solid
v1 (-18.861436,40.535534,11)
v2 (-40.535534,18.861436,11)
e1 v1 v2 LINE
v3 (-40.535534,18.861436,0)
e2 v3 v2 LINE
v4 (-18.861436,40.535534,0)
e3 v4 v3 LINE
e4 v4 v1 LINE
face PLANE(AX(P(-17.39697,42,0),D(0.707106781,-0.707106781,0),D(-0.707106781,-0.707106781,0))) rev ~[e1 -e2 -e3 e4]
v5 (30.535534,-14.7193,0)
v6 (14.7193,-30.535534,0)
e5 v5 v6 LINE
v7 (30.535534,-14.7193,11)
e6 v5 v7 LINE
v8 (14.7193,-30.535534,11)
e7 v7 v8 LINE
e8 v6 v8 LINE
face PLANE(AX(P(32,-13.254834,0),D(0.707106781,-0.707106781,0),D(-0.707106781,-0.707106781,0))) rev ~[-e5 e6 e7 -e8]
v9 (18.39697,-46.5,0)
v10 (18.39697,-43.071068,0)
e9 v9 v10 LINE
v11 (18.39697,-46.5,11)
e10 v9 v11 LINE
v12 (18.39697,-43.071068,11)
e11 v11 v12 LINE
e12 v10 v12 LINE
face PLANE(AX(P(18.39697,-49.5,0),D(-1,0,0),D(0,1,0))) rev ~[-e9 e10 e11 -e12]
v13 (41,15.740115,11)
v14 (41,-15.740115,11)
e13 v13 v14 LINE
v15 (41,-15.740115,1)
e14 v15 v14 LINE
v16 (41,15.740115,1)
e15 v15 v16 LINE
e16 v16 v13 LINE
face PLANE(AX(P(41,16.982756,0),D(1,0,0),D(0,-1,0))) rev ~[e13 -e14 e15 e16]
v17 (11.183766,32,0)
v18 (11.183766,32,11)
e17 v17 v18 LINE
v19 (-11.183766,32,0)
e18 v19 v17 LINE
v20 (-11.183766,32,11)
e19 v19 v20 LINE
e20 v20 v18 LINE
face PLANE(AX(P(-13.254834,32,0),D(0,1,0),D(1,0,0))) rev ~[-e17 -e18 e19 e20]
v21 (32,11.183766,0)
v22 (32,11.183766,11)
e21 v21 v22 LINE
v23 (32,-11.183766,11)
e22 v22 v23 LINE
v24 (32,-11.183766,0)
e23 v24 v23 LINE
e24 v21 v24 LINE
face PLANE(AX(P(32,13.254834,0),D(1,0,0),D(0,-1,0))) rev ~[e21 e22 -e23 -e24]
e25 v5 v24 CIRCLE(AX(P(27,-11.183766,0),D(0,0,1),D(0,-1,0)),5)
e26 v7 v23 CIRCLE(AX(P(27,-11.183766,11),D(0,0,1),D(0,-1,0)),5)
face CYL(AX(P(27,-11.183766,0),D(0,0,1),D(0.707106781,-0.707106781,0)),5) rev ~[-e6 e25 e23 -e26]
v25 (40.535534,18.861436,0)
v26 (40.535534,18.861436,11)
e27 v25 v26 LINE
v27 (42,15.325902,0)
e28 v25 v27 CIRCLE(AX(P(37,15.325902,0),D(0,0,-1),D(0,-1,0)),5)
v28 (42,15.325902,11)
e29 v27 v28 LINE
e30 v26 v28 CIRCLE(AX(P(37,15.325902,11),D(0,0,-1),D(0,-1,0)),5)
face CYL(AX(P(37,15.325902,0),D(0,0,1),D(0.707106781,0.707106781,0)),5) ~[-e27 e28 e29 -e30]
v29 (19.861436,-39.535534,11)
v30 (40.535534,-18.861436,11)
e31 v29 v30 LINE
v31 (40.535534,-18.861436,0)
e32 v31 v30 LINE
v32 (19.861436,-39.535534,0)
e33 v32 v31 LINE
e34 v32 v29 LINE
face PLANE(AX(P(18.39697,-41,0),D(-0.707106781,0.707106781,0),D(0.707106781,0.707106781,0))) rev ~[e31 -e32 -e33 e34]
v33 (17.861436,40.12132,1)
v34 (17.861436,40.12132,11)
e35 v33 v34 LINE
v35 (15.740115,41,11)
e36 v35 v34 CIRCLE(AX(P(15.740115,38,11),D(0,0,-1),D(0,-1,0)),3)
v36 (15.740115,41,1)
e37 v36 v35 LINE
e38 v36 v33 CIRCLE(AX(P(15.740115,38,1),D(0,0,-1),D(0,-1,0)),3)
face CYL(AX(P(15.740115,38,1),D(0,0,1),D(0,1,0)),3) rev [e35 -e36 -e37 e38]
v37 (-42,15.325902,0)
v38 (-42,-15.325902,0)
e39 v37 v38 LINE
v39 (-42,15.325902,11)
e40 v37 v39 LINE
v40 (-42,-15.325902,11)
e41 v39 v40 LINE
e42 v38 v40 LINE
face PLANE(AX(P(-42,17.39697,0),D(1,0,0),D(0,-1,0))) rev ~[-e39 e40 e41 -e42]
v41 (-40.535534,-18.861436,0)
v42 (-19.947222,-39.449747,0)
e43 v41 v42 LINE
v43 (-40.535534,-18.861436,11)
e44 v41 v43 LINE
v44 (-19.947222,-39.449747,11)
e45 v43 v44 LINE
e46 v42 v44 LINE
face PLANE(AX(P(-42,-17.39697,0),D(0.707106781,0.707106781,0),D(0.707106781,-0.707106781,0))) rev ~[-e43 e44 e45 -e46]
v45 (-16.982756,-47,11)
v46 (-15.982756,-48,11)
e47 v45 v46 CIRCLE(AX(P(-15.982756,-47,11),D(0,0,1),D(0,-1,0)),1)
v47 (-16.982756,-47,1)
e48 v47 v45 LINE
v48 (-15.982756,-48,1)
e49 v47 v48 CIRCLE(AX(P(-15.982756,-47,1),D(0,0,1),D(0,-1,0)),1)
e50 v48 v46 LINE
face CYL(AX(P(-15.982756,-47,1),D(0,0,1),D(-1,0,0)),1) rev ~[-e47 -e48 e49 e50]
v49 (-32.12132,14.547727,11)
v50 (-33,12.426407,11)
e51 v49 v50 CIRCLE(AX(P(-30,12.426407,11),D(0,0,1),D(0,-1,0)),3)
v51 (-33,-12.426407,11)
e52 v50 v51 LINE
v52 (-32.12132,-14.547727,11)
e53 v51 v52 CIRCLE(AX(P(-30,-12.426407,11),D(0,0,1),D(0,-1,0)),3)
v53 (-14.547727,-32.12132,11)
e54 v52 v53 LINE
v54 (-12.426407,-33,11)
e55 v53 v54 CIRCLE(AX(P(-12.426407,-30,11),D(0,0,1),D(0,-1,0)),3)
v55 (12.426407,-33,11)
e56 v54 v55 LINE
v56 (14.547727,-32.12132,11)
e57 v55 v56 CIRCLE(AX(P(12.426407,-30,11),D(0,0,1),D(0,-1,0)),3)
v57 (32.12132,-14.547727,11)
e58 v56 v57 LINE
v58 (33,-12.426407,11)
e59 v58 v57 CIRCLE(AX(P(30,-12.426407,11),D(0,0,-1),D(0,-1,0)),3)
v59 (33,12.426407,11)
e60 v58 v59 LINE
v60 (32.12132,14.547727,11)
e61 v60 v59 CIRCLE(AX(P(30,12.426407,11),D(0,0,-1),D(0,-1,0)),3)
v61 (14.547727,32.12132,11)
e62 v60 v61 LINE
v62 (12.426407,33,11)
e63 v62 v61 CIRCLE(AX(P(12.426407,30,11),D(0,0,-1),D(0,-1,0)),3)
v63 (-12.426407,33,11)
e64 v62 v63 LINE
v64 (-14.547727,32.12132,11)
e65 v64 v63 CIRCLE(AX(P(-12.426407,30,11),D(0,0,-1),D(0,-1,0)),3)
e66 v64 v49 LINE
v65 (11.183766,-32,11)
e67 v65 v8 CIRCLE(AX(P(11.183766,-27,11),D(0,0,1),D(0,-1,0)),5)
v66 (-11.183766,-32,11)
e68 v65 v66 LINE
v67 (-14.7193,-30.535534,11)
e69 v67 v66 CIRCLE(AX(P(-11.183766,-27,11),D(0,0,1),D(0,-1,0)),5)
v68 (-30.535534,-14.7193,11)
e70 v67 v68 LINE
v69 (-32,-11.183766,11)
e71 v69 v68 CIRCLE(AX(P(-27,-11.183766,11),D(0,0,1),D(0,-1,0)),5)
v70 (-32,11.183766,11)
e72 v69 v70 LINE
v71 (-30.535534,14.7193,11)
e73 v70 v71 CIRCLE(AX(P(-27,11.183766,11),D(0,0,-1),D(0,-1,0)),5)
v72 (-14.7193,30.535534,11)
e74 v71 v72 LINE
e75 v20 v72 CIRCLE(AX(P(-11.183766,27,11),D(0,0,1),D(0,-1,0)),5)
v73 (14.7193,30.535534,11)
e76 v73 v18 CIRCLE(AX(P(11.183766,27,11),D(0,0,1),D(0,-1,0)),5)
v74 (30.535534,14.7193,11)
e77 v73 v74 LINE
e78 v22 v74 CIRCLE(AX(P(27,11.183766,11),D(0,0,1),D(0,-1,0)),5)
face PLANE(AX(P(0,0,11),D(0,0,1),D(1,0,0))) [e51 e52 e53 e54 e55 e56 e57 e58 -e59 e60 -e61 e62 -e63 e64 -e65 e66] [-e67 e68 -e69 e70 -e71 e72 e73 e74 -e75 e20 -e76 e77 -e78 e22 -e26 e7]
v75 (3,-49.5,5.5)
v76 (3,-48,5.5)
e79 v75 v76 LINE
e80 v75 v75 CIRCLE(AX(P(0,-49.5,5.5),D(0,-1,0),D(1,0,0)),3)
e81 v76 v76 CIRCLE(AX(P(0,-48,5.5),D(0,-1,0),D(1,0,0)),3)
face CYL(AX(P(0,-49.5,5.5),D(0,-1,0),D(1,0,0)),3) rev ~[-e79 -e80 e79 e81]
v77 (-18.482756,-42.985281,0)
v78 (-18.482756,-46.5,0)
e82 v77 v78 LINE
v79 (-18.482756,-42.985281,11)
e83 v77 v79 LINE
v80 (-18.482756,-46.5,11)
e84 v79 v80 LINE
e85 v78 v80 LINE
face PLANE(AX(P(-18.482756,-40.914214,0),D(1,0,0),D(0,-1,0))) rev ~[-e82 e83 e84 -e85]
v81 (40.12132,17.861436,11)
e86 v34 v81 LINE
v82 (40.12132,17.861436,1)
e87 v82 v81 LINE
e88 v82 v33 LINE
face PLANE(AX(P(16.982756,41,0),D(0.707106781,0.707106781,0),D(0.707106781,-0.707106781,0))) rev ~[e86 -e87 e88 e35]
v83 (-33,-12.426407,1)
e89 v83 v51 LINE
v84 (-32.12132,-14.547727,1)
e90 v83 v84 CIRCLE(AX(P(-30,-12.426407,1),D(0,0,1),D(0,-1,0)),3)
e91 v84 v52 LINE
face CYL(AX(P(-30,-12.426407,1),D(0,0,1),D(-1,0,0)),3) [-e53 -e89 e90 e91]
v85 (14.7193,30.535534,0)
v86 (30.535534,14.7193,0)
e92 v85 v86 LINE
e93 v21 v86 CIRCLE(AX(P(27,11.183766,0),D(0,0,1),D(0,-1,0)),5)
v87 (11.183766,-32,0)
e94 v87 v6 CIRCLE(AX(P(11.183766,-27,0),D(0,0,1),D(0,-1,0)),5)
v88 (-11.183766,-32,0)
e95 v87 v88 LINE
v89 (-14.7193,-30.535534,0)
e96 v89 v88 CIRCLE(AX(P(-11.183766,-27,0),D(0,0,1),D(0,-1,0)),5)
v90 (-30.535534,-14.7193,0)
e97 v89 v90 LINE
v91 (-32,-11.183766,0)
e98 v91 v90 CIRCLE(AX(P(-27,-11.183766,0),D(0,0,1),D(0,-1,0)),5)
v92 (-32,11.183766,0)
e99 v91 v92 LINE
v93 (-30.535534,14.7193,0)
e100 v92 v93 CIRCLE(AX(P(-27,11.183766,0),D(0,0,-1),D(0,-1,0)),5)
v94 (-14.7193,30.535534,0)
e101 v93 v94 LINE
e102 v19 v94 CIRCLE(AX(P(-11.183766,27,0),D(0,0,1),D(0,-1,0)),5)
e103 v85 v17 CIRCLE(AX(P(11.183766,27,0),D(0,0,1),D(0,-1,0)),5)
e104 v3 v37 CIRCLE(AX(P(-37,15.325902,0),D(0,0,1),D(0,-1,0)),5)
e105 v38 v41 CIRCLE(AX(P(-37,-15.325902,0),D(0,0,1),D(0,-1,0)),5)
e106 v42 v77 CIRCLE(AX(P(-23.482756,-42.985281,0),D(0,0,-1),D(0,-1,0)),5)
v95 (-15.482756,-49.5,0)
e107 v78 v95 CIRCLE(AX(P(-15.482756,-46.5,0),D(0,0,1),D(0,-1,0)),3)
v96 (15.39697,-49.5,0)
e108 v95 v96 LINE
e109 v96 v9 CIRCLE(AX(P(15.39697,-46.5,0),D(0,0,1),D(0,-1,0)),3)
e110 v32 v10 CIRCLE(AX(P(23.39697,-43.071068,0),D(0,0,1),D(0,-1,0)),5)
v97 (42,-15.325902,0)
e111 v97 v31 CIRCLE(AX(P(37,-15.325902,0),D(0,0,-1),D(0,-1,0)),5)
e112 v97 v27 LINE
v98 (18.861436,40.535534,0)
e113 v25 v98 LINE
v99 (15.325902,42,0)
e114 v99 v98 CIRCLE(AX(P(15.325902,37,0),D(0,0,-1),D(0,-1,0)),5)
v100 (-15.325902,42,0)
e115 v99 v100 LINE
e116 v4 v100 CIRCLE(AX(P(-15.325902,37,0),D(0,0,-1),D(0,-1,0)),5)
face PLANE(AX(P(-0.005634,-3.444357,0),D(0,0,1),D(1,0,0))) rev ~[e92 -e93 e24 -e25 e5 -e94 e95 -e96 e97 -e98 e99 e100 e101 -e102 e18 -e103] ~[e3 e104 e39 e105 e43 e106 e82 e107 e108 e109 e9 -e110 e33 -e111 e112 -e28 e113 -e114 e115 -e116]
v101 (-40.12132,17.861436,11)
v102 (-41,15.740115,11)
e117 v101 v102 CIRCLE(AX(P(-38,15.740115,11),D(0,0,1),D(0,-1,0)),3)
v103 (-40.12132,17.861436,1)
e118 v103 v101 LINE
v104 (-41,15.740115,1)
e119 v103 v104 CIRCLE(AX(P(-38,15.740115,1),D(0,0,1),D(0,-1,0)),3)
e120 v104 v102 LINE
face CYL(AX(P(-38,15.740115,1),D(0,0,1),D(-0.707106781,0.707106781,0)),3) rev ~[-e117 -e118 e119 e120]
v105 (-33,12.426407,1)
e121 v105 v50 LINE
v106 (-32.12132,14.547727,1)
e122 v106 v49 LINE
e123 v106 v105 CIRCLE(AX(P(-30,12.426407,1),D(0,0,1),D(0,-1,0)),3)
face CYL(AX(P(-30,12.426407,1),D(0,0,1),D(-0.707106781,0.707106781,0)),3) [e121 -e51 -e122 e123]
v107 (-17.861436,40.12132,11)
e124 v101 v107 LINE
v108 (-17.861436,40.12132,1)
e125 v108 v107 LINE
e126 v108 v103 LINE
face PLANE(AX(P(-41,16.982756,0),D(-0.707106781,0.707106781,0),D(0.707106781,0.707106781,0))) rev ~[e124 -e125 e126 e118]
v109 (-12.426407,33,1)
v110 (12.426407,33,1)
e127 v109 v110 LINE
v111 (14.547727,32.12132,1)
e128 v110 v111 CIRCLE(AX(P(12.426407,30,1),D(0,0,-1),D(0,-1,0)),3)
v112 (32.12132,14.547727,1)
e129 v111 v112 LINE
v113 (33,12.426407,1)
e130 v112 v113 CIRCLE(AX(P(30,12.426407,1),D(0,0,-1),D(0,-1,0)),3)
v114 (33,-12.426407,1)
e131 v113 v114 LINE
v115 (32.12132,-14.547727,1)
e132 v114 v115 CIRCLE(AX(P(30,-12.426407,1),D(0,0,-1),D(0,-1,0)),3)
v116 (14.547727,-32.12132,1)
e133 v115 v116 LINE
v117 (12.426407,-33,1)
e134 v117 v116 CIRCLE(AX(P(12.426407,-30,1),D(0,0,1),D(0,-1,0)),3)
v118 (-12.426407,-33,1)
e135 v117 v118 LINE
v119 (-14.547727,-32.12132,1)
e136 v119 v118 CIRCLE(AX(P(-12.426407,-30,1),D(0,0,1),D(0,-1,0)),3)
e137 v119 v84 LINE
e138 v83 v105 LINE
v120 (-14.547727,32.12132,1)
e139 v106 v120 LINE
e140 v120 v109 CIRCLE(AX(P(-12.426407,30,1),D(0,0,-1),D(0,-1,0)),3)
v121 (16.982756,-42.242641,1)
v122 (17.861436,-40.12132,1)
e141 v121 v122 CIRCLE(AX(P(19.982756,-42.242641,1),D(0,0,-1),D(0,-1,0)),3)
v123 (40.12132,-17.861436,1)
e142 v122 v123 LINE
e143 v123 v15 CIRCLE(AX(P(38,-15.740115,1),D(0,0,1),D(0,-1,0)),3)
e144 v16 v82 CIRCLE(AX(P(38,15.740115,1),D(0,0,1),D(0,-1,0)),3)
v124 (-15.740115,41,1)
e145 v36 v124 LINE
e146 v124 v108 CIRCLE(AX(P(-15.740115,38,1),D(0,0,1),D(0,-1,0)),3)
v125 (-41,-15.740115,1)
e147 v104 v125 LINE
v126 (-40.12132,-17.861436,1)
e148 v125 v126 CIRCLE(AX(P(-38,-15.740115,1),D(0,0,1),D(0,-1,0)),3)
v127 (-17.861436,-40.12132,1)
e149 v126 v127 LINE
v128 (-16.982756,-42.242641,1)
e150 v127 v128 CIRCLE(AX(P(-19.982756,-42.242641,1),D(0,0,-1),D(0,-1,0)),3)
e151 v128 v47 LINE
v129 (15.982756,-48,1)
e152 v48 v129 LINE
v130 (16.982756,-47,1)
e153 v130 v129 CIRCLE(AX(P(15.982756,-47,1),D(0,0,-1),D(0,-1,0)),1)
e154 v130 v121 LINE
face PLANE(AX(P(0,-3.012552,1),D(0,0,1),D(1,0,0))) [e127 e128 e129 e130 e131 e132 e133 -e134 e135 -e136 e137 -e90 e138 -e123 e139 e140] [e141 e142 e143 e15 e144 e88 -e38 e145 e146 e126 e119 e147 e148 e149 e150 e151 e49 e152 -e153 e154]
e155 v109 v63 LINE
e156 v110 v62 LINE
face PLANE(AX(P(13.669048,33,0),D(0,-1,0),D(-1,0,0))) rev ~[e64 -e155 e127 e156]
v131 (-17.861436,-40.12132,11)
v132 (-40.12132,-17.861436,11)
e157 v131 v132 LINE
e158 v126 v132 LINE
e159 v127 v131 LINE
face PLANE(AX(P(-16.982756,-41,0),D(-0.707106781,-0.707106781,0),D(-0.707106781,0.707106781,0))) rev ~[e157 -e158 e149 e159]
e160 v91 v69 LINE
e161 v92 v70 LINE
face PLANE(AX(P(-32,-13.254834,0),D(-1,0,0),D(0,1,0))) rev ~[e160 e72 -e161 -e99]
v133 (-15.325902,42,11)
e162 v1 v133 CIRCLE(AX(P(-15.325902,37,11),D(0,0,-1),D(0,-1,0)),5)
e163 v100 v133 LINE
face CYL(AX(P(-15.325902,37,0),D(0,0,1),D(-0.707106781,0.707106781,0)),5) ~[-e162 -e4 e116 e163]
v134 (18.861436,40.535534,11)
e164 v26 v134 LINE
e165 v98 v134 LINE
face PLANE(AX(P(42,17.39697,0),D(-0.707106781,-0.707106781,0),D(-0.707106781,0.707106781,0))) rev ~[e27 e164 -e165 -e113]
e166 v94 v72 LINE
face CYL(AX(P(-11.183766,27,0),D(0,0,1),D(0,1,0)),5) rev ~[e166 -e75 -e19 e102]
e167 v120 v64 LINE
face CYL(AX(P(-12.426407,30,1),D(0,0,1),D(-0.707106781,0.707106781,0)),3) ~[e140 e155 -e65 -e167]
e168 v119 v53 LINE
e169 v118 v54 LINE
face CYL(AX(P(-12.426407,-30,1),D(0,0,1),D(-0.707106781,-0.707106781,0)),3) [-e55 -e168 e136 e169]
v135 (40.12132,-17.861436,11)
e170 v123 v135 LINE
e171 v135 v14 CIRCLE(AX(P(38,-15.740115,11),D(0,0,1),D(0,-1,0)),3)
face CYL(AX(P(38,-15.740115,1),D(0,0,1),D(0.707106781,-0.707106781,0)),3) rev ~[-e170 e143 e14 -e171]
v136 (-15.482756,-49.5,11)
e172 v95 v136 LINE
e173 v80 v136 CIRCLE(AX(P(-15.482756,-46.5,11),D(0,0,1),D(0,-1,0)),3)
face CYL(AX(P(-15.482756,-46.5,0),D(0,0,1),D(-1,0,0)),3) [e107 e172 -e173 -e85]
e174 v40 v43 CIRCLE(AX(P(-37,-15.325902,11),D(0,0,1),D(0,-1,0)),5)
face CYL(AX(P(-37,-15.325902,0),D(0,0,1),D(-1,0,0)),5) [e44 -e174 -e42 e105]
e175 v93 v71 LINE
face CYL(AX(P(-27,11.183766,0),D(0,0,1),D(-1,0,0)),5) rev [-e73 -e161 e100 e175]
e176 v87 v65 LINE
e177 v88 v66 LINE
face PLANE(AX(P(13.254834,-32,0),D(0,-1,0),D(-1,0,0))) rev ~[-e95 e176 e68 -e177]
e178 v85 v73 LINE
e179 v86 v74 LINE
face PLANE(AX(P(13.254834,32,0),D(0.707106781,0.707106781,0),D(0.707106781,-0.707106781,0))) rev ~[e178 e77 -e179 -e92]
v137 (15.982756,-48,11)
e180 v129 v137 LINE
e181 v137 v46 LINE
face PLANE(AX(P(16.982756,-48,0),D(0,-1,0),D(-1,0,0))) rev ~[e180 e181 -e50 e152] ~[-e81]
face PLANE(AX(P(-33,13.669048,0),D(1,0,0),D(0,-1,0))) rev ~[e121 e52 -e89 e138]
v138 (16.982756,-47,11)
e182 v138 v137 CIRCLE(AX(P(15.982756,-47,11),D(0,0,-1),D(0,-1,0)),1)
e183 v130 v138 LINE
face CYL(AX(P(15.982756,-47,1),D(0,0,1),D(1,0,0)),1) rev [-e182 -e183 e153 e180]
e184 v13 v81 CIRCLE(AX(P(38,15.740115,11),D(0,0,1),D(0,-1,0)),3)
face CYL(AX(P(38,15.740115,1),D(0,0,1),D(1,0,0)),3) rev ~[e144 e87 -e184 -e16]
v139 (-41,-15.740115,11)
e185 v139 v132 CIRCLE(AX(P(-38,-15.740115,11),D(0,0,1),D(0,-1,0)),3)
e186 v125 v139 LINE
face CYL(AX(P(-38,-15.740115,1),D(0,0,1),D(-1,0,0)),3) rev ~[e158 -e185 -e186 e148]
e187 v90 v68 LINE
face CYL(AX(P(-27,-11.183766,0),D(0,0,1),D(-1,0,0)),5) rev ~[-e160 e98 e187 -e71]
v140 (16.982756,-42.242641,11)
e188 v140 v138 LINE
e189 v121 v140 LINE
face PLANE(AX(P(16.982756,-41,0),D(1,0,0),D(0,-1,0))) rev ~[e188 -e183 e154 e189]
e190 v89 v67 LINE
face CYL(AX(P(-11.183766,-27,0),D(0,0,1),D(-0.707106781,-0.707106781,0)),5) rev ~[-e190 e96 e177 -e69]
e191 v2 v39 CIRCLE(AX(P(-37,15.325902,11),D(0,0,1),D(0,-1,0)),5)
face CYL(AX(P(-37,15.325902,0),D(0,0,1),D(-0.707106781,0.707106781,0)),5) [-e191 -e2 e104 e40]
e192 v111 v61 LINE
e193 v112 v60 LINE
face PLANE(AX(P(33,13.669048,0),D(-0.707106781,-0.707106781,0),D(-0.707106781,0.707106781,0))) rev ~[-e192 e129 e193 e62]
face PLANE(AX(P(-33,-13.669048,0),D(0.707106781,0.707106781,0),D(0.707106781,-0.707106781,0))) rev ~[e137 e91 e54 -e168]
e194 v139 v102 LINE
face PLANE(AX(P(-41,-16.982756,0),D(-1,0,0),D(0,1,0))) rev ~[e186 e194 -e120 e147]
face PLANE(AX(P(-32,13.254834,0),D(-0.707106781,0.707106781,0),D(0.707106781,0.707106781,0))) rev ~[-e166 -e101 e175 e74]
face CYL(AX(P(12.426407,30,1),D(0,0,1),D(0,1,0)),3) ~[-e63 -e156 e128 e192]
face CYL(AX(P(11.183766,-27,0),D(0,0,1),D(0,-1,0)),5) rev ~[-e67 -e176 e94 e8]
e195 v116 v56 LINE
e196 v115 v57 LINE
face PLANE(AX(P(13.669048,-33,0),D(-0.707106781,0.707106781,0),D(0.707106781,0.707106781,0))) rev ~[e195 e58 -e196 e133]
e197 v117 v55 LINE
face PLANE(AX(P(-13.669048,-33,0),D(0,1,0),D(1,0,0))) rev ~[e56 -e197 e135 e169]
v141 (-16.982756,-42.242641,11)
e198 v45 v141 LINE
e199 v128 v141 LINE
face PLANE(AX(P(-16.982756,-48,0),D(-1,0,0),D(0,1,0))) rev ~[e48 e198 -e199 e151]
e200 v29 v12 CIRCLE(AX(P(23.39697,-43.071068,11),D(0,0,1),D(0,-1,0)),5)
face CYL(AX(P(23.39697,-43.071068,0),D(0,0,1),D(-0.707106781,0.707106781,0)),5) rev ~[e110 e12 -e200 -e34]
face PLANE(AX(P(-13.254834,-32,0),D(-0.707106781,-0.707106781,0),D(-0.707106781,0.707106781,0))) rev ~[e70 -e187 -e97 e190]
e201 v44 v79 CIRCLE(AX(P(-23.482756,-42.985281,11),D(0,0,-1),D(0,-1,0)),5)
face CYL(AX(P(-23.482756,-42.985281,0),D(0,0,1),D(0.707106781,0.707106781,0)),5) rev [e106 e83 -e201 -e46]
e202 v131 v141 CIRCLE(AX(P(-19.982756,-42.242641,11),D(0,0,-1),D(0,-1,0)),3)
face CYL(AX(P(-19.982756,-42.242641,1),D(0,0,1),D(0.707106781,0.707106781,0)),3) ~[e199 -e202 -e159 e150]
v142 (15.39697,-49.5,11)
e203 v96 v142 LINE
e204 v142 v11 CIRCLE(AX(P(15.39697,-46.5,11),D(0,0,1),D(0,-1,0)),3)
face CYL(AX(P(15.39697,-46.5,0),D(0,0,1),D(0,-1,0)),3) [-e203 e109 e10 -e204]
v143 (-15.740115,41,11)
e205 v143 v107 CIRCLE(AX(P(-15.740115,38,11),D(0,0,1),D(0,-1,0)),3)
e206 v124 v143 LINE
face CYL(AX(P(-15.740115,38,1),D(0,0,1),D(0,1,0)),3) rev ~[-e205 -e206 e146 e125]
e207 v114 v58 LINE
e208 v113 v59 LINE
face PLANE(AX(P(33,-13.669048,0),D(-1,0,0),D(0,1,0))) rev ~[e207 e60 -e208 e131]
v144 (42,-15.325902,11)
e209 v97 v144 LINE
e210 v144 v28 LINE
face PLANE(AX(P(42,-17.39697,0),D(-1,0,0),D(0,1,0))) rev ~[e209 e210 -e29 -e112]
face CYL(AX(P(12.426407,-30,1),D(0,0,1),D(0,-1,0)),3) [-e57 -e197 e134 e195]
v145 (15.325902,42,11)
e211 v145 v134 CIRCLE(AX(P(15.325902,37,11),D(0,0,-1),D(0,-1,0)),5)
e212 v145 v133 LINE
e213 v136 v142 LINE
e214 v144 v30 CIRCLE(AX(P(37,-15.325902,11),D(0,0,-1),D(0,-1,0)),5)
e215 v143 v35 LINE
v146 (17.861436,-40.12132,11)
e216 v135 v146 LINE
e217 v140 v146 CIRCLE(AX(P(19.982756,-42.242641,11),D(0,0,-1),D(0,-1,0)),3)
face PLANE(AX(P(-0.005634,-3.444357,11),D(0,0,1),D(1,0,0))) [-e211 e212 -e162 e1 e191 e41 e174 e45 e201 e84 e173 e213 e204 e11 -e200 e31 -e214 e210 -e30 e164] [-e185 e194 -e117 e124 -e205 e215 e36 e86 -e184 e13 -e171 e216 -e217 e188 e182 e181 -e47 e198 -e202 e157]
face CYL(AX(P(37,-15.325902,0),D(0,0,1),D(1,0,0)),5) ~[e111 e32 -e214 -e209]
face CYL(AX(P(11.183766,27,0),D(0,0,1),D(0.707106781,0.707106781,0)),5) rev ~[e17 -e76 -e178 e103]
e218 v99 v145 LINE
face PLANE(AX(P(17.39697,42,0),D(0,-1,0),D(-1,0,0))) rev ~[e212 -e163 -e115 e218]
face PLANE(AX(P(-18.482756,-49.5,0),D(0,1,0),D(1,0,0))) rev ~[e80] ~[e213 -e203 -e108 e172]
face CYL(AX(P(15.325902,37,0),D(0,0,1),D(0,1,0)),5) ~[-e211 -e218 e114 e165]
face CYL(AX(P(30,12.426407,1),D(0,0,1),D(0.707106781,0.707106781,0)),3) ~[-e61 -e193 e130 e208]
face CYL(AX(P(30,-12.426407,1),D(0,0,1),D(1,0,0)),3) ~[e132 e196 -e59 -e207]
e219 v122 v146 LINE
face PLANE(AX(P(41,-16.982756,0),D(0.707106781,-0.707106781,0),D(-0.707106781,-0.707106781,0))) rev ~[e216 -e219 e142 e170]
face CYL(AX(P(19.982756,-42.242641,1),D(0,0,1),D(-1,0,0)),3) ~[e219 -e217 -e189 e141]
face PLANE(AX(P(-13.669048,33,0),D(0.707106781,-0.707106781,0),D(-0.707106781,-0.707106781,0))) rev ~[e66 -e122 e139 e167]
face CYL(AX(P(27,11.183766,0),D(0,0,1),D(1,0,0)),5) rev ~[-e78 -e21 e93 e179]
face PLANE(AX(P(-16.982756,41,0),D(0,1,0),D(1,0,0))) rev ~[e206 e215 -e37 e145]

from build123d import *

# Parameters (mm, degrees)
F1_DEPTH = 1
F2_DEPTH = 11
F3_R     = 5
F4_R     = 3
F5_R     = 3
F6_DEPTH = 2
F7_R     = 1


with BuildPart() as f1:
    # F0 (on Top) → F1 (new body)
    with BuildSketch(Plane.XY):
        Polygon((41, -16.9827560573), (41, 16.9827560573), (16.9827560573, 41), (-16.9827560573, 41), (-41, 16.9827560573), (-41, -16.9827560573), (-16.9827560573, -41), (-16.9827560573, -48), (16.9827560573, -48), (16.9827560573, -41), align=None)
        Polygon((-33, -13.6690475583), (-33, 13.6690475583), (-13.6690475583, 33), (13.6690475583, 33), (33, 13.6690475583), (33, -13.6690475583), (13.6690475583, -33), (-13.6690475583, -33), align=None, mode=Mode.SUBTRACT)
    extrude(amount=F1_DEPTH)

    # F0 (on Top) → F2 (join)
    with BuildSketch(Plane.XY):
        Polygon((-17.3969696197, 42), (-42, 17.3969696197), (-42, -17.3969696197), (-18.4827560573, -40.9142135624), (-18.4827560573, -49.5), (18.3969696197, -49.5), (18.3969696197, -41), (42, -17.3969696197), (42, 17.3969696197), (17.3969696197, 42), align=None)
        Polygon((16.9827560573, 41), (41, 16.9827560573), (41, -16.9827560573), (16.9827560573, -41), (16.9827560573, -48), (-16.9827560573, -48), (-16.9827560573, -41), (-41, -16.9827560573), (-41, 16.9827560573), (-16.9827560573, 41), align=None, mode=Mode.SUBTRACT)
        Polygon((-13.6690475583, 33), (-33, 13.6690475583), (-33, -13.6690475583), (-13.6690475583, -33), (13.6690475583, -33), (33, -13.6690475583), (33, 13.6690475583), (13.6690475583, 33), align=None)
        Polygon((-32, 13.2548339959), (-13.2548339959, 32), (13.2548339959, 32), (32, 13.2548339959), (32, -13.2548339959), (13.2548339959, -32), (-13.2548339959, -32), (-32, -13.2548339959), align=None, mode=Mode.SUBTRACT)
    extrude(amount=F2_DEPTH)

    # F3
    f3_edges = [f1.edges().sort_by_distance(p)[0] for p in [
        (-42, 17.39697, 5.5),
        (-42, -17.39697, 5.5),
        (-17.39697, 42, 5.5),
        (17.39697, 42, 5.5),
        (42, 17.39697, 5.5),
        (42, -17.39697, 5.5),
        (-13.254834, 32, 5.5),
        (-32, 13.254834, 5.5),
        (-32, -13.254834, 5.5),
        (-13.254834, -32, 5.5),
        (13.254834, -32, 5.5),
        (32, -13.254834, 5.5),
        (32, 13.254834, 5.5),
        (13.254834, 32, 5.5),
        (18.39697, -41, 5.5),
        (-18.482756, -40.914214, 5.5),
    ]]
    fillet(f3_edges, radius=F3_R)

    # F4
    f4_edges = [f1.edges().sort_by_distance(p)[0] for p in [
        (-33, -13.669048, 6),
        (-13.669048, -33, 6),
        (13.669048, -33, 6),
        (33, -13.669048, 6),
        (33, 13.669048, 6),
        (13.669048, 33, 6),
        (-13.669048, 33, 6),
        (-33, 13.669048, 6),
        (41, -16.982756, 6),
        (41, 16.982756, 6),
        (16.982756, 41, 6),
        (-16.982756, 41, 6),
        (-41, 16.982756, 6),
        (-41, -16.982756, 6),
        (-16.982756, -41, 6),
        (16.982756, -41, 6),
        (18.39697, -49.5, 5.5),
        (-18.482756, -49.5, 5.5),
    ]]
    fillet(f4_edges, radius=F4_R)

    # F5 (on face) → F6 (cut)
    with BuildSketch(Plane.XZ.offset(49.5)):
        with Locations((0, 5.5)):
            Circle(F5_R)
    extrude(amount=-F6_DEPTH, mode=Mode.SUBTRACT)

    # F7
    f7_edges = [f1.edges().sort_by_distance(p)[0] for p in [
        (-16.982756, -48, 6),
        (16.982756, -48, 6),
    ]]
    fillet(f7_edges, radius=F7_R)


solid = f1.part
